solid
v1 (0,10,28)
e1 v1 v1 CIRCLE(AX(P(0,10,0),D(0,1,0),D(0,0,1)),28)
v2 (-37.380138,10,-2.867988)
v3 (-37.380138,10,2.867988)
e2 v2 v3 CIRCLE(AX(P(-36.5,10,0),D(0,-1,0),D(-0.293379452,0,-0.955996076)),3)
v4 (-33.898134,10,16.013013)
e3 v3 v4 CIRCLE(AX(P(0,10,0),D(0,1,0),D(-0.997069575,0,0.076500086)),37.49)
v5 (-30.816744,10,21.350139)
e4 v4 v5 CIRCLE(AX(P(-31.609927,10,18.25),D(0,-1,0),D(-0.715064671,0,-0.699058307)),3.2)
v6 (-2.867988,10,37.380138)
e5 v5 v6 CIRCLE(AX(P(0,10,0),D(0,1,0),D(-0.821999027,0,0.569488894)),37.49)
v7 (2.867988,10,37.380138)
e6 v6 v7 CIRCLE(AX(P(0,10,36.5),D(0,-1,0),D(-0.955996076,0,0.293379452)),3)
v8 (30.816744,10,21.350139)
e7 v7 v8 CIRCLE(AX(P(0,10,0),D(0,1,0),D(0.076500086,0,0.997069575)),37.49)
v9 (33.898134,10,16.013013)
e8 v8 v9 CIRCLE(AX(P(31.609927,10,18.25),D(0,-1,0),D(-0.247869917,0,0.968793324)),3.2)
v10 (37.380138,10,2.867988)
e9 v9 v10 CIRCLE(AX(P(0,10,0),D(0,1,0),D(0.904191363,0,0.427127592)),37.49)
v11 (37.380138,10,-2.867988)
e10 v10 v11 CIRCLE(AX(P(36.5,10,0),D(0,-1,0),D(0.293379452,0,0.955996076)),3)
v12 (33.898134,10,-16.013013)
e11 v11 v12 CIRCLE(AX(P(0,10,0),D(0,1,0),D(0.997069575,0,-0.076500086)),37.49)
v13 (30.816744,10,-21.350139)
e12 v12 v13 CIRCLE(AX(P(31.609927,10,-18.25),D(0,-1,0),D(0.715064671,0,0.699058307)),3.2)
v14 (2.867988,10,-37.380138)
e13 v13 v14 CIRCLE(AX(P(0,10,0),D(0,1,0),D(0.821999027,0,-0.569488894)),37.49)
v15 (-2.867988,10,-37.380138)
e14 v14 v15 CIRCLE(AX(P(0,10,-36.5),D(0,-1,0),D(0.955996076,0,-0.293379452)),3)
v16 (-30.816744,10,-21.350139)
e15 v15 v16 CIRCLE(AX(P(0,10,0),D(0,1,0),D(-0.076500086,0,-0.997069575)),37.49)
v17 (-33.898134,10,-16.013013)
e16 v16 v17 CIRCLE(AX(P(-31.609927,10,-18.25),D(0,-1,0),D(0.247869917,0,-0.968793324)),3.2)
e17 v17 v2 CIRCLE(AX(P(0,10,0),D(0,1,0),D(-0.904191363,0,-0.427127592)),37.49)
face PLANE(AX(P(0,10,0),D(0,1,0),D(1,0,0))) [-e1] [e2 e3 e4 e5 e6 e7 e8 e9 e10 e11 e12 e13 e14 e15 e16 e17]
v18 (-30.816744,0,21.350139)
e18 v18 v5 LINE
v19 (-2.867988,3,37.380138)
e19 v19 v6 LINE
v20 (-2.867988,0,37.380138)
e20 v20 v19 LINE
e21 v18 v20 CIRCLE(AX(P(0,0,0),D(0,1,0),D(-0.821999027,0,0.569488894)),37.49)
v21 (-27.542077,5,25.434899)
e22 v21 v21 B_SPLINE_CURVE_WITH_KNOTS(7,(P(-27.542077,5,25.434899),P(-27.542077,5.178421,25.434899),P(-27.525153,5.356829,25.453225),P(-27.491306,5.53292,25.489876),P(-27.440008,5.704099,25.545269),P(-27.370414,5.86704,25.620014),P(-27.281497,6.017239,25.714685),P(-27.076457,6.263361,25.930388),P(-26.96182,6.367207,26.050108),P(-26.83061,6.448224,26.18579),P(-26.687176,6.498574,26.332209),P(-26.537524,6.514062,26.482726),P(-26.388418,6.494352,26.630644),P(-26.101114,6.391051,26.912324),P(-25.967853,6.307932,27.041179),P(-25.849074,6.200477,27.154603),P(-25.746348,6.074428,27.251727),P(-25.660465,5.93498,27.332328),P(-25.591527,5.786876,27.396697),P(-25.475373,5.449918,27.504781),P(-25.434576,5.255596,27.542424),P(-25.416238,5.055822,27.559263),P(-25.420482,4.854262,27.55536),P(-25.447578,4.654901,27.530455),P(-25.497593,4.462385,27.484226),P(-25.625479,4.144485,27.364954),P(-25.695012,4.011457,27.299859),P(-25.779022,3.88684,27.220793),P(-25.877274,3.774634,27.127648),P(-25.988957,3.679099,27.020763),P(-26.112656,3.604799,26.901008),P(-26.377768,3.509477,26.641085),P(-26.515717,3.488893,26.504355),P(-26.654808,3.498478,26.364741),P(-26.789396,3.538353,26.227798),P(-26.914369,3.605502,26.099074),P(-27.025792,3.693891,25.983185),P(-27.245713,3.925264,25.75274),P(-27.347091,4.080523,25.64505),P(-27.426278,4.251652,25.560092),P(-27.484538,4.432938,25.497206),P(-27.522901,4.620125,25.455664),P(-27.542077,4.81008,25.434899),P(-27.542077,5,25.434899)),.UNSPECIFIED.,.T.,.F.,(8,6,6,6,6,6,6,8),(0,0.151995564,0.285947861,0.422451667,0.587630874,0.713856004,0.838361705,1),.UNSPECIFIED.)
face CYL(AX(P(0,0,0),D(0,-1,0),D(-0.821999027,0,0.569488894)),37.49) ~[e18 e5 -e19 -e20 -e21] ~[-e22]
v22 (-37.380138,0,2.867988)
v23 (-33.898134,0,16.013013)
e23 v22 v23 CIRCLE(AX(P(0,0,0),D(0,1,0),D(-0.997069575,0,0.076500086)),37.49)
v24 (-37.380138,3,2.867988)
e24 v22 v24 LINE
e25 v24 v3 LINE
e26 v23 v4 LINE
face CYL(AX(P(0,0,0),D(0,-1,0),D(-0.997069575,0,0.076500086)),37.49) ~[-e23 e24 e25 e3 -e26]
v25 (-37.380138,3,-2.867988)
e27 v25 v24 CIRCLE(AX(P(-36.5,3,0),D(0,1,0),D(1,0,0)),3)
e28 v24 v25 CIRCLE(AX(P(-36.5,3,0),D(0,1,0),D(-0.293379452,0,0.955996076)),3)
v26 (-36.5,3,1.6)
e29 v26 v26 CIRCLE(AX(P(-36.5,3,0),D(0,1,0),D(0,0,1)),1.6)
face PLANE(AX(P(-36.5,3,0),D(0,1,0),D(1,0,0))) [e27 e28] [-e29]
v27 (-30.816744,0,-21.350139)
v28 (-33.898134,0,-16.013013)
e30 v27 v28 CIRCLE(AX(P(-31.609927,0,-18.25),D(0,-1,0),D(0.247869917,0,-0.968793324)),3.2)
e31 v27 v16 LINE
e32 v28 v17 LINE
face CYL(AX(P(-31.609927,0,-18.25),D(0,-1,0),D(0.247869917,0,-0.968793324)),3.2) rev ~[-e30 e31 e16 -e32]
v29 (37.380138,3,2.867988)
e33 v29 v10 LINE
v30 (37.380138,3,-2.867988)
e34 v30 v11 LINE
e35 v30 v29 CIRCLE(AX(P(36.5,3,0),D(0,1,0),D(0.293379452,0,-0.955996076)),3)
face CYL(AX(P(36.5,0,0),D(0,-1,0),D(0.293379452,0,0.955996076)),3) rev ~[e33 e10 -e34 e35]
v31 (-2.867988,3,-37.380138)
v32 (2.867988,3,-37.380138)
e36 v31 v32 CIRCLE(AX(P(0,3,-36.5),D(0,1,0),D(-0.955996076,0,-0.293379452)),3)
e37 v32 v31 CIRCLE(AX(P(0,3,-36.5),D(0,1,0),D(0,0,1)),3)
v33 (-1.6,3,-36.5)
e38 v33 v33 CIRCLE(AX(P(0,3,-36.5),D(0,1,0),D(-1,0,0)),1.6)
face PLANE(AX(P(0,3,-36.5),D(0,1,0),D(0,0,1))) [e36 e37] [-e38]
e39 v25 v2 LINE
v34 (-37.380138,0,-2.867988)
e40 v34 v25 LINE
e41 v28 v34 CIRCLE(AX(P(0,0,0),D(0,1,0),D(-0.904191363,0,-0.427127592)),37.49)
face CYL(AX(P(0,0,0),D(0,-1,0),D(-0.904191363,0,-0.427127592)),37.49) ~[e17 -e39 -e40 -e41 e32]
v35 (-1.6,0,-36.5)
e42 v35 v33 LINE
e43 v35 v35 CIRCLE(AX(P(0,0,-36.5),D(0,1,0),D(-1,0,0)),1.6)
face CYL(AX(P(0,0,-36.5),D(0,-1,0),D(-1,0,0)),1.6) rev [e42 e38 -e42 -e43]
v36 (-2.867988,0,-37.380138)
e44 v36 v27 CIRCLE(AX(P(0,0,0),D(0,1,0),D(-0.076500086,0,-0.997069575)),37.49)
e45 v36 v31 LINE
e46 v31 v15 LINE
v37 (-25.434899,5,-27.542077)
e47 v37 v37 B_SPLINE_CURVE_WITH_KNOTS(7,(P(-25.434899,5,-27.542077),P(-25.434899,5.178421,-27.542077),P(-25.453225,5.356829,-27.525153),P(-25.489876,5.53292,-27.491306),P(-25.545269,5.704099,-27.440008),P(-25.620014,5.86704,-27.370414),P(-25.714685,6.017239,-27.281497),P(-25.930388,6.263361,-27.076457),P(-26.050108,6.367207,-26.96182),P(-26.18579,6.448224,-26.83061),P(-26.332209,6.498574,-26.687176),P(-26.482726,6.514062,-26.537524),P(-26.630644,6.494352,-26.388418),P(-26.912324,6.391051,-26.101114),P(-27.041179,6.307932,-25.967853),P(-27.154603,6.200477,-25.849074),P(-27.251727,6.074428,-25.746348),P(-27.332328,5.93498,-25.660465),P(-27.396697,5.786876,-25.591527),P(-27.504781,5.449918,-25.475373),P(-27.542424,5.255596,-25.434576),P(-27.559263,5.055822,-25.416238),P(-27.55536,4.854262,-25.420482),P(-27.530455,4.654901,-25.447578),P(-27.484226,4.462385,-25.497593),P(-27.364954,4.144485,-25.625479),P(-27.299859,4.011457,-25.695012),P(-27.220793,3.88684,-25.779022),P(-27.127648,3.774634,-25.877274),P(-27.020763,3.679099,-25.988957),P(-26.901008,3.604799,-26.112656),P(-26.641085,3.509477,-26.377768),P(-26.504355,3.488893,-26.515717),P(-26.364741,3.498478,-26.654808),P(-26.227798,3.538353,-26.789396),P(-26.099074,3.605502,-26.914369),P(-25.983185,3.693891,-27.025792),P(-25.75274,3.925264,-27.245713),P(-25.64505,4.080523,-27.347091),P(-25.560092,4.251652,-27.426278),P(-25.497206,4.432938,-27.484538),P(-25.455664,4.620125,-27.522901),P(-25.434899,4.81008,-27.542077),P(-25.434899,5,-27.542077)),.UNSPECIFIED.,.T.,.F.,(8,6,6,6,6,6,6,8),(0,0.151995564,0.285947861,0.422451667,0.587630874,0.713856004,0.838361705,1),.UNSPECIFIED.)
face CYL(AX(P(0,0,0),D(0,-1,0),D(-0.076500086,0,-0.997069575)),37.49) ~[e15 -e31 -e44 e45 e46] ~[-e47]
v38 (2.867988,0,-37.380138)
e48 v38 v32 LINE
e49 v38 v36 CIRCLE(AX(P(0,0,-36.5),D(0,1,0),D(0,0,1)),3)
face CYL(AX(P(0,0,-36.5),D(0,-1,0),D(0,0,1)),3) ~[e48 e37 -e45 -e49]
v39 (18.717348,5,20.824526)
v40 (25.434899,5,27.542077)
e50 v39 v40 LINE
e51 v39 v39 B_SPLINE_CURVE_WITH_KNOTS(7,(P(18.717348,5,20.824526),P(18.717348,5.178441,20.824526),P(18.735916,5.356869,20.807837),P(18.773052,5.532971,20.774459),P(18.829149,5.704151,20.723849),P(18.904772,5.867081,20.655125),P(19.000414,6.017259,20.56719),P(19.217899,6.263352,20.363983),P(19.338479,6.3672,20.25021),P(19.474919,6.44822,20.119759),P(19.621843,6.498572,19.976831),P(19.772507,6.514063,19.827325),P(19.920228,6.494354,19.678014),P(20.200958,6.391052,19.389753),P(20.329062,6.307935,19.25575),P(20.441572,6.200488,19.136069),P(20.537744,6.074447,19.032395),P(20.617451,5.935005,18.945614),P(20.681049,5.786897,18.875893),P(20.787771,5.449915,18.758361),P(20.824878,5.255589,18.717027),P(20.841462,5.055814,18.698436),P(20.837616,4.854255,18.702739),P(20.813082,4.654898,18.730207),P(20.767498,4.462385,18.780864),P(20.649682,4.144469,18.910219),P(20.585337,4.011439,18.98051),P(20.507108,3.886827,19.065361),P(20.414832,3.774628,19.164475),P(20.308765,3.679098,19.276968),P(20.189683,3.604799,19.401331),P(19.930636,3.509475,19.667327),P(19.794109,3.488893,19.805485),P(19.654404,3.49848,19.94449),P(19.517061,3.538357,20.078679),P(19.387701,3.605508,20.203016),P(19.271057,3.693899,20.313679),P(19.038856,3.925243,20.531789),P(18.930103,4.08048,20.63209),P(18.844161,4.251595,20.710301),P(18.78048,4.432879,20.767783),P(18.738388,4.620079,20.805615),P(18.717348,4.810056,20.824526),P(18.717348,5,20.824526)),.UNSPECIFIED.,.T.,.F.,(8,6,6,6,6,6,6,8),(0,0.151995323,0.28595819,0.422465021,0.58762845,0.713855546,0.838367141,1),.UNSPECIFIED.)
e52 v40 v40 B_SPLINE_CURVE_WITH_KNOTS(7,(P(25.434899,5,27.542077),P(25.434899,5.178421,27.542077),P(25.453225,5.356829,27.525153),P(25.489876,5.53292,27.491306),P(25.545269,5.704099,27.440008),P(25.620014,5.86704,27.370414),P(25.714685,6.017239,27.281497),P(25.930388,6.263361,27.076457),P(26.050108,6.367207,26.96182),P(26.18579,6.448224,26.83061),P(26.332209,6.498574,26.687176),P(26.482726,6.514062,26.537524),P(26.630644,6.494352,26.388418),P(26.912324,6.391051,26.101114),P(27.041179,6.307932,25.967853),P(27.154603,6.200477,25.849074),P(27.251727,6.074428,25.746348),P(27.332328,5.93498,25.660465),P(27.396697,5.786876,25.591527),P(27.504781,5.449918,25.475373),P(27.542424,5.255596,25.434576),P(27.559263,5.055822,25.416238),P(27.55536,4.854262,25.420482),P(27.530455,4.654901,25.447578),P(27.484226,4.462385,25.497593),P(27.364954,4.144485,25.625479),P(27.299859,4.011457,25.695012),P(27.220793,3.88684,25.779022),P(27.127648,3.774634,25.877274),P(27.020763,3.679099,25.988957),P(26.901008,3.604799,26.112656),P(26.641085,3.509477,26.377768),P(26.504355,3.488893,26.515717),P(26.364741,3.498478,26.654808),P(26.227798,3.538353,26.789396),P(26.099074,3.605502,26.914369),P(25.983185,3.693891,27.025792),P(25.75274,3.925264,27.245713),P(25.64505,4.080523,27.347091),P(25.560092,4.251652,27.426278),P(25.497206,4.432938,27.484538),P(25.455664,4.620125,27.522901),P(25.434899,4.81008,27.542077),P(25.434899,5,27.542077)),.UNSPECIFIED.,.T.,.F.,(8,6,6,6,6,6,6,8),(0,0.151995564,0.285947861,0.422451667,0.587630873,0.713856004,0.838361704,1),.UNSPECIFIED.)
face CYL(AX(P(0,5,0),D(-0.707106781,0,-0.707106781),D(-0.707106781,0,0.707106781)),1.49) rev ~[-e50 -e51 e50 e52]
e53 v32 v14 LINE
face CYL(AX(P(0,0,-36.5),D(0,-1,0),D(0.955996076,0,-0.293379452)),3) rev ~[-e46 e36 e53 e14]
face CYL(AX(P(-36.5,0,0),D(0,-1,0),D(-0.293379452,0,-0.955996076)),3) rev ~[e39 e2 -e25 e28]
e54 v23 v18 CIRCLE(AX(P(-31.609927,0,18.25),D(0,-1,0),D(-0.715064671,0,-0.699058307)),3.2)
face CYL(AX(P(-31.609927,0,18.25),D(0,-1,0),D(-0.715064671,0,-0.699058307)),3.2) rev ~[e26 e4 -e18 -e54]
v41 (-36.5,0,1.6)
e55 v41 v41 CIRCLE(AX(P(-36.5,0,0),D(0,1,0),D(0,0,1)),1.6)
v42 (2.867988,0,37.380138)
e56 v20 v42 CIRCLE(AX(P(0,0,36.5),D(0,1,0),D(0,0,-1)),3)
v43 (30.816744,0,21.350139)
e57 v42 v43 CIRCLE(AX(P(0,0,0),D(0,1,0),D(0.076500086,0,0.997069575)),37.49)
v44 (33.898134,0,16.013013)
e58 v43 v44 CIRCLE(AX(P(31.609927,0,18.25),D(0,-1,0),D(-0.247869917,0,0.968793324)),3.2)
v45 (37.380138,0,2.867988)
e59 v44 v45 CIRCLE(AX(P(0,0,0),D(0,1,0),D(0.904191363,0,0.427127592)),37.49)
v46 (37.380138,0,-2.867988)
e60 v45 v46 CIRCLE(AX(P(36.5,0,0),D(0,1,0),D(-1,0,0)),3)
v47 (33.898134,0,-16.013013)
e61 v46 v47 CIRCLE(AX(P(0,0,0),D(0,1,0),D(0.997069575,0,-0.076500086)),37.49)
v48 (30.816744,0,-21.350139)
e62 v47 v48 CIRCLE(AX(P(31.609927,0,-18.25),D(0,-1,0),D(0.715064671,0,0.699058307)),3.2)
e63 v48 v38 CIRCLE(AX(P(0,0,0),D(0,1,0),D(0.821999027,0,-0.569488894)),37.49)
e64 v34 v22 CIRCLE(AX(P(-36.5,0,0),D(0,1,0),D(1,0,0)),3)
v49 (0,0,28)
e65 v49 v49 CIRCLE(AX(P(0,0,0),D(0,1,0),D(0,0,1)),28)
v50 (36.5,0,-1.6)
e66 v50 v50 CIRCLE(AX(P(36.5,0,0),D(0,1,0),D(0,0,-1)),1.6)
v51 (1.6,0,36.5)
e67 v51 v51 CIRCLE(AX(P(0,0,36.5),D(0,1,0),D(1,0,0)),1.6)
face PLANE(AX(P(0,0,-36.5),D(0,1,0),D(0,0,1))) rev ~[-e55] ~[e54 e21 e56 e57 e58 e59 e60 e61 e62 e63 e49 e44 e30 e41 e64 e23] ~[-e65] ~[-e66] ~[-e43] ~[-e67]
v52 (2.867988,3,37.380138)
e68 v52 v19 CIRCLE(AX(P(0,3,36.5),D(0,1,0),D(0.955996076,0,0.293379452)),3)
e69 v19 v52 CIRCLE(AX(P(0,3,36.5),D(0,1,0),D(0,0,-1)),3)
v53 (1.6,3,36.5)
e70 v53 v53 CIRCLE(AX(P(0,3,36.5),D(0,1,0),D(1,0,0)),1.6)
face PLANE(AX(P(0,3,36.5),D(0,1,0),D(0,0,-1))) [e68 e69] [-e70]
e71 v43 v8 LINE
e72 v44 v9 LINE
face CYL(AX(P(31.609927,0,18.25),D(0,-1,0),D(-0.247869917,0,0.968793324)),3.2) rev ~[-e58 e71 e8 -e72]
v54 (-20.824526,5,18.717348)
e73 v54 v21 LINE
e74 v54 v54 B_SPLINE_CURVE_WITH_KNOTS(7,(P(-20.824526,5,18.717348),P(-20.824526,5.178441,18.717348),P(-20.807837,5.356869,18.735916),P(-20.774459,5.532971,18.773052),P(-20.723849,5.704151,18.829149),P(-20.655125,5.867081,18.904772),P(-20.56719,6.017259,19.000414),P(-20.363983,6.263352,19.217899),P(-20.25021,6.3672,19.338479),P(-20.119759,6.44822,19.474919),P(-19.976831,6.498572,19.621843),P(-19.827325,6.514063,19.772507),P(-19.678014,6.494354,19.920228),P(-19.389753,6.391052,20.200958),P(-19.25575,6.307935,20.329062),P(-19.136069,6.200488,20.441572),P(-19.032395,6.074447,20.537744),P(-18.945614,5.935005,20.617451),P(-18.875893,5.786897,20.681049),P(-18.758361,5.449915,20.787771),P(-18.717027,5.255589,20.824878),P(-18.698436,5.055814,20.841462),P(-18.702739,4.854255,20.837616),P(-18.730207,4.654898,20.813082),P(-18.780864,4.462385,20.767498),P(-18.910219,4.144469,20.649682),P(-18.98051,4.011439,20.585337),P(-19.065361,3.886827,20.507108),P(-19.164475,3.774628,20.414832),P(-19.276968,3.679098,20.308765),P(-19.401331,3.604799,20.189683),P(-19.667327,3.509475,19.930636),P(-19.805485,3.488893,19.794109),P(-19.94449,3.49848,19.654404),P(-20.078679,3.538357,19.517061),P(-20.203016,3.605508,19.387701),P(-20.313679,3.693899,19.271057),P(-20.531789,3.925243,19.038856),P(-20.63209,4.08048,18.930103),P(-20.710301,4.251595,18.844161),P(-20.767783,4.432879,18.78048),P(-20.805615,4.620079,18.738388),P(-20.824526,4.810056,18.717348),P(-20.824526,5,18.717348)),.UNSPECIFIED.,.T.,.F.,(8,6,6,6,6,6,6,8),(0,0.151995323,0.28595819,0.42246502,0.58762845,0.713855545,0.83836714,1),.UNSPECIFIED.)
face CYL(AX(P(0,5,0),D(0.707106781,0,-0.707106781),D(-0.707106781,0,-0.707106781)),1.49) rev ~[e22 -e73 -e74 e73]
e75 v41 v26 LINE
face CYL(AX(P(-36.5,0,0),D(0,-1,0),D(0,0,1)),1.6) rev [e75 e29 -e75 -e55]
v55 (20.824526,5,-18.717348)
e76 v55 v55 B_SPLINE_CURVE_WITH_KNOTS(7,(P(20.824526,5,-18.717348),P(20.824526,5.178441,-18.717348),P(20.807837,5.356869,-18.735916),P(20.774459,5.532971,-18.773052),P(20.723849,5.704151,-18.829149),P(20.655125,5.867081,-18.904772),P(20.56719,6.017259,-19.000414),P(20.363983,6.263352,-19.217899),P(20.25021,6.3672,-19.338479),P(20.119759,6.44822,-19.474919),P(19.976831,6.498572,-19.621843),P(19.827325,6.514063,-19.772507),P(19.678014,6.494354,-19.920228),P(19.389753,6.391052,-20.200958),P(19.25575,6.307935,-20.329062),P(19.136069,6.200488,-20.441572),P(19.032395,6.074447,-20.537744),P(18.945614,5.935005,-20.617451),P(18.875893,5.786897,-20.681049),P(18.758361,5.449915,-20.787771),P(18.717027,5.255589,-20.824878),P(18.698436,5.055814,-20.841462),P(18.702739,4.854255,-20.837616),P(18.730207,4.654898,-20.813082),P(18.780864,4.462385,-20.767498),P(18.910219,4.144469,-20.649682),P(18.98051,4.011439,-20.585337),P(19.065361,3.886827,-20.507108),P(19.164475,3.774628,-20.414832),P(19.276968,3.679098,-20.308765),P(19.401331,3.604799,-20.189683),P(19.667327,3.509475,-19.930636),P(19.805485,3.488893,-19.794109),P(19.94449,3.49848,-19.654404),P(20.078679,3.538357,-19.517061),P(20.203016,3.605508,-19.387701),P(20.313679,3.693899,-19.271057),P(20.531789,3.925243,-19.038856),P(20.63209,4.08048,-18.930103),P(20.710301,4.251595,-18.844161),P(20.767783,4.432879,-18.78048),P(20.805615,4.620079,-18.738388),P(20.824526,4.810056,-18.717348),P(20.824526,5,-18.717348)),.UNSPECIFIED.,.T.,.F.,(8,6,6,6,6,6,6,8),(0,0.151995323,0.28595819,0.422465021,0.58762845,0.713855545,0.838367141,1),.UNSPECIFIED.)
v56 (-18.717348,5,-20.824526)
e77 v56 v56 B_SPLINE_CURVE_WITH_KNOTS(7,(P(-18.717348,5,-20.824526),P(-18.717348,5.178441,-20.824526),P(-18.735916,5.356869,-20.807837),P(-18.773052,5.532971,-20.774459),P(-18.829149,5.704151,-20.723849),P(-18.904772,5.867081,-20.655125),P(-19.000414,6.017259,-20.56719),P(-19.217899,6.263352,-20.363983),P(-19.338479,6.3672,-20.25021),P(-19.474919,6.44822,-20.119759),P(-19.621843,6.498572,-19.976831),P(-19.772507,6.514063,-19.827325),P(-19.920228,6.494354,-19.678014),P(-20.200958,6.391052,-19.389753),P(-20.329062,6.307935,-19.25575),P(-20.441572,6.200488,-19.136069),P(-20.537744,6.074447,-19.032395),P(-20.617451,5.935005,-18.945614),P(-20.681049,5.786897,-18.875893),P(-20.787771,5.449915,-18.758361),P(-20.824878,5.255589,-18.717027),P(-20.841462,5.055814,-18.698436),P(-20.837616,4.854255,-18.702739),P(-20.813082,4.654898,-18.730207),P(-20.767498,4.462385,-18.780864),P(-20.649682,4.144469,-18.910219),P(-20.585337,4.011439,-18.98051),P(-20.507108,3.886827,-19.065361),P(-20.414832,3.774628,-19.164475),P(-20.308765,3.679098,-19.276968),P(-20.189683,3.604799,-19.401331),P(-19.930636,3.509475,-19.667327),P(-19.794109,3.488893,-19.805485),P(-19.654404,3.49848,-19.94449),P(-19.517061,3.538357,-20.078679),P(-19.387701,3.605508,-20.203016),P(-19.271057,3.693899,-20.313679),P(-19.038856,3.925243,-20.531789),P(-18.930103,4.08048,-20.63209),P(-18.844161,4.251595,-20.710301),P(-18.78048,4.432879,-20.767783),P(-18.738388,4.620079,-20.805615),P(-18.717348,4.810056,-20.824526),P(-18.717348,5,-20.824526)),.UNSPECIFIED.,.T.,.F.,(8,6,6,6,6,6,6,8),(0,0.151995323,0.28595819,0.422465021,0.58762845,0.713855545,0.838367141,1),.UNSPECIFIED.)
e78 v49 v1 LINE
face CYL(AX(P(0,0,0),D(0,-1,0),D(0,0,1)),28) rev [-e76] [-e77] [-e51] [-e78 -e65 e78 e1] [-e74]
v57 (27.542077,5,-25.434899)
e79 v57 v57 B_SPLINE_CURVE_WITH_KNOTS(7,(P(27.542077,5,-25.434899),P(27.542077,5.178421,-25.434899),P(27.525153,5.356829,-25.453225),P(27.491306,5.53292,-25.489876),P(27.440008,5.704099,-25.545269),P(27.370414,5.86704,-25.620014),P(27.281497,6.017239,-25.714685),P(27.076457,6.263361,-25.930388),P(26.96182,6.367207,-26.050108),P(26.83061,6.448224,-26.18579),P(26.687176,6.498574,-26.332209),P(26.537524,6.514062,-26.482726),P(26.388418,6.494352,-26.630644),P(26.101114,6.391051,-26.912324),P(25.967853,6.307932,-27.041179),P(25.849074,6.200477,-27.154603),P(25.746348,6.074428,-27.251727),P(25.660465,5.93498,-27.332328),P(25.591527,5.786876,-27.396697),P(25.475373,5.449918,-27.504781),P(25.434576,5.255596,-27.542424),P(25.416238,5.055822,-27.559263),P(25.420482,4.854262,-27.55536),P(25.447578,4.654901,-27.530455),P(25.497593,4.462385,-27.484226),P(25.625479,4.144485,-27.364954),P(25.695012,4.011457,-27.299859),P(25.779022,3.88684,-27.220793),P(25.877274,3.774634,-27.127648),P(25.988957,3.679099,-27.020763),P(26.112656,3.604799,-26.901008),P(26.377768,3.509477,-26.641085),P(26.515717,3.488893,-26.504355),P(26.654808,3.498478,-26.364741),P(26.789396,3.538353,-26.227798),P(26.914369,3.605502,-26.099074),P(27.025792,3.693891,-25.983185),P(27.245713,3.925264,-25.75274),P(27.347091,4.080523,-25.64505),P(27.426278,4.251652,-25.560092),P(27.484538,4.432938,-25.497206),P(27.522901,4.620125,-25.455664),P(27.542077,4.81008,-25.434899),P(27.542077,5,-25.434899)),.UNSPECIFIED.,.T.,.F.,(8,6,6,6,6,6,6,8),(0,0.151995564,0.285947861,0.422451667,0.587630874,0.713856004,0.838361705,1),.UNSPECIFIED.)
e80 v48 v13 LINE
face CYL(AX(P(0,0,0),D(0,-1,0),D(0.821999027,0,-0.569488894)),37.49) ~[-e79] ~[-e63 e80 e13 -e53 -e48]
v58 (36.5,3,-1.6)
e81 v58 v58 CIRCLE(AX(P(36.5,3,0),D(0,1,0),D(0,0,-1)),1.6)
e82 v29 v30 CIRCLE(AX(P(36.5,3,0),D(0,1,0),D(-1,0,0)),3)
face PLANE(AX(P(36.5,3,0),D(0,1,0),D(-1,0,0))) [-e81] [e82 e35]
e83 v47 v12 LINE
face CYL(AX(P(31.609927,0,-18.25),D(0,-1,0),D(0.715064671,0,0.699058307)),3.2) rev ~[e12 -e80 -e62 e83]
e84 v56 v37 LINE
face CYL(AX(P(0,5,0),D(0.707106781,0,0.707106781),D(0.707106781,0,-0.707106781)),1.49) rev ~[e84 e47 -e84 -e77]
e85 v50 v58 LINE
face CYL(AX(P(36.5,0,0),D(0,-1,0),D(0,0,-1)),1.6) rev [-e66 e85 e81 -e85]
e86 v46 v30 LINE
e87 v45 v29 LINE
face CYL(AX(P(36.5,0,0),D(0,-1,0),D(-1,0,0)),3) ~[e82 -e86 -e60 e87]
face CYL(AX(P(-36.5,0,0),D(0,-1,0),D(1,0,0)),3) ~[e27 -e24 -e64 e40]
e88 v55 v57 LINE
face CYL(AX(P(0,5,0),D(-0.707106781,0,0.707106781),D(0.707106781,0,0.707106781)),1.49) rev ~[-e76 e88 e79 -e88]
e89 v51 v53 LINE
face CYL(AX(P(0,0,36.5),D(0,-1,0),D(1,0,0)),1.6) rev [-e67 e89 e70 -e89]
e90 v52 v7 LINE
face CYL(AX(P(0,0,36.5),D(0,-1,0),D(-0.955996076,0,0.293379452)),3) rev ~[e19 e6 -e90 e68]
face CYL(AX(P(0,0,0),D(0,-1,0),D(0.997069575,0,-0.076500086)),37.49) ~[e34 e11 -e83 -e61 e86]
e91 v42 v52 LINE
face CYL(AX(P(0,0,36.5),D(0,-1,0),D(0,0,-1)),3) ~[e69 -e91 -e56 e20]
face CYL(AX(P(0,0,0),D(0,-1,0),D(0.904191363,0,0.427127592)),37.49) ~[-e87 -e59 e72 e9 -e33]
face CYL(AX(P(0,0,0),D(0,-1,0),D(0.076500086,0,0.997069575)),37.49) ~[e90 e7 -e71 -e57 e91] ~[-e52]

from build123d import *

# Parameters (mm, degrees)
IZIM2_R                     = 28
Y_KSEKLIK_EKSTR_ZYON5_DEPTH = 10
IZIM3_R                     = 1.49
KES_EKSTR_ZYON1_DEPTH       = 54.801017528
DAIRESEL_KAPLAMA1_COUNT     = 4
IZIM4_R                     = 3
IZIM4_R_2                   = 1.6
Y_KSEKLIK_EKSTR_ZYON6_DEPTH = 3
DAIRESEL_KAPLAMA2_COUNT     = 4


with BuildPart() as part:
    # Çizim2 → Yükseklik-Ekstrüzyon5 (new body)
    with BuildSketch(Plane(origin=(0, 0, 0), x_dir=(1, 0, 0), z_dir=(0, 1, 0))):
        with BuildLine():
            ThreePointArc((-37.380138356, -2.867988228), (-36.240115286, -9.599694998), (-33.898134186, -16.013013418))
            ThreePointArc((-33.898134186, -16.013013418), (-28.838645946, -16.65), (-30.816743504, -21.350138636))
            ThreePointArc((-30.816743504, -21.350138636), (-18.652225356, -32.52067941), (-2.867988228, -37.380138356))
            ThreePointArc((-2.867988228, -37.380138356), (0, -33.5), (2.867988228, -37.380138356))
            ThreePointArc((2.867988228, -37.380138356), (18.652225356, -32.52067941), (30.816743504, -21.350138636))
            ThreePointArc((30.816743504, -21.350138636), (28.838645946, -16.65), (33.898134186, -16.013013418))
            ThreePointArc((33.898134186, -16.013013418), (36.240115286, -9.599694998), (37.380138356, -2.867988228))
            ThreePointArc((37.380138356, -2.867988228), (33.5, 0), (37.380138356, 2.867988228))
            ThreePointArc((37.380138356, 2.867988228), (36.240115286, 9.599694998), (33.898134186, 16.013013418))
            ThreePointArc((33.898134186, 16.013013418), (28.838645946, 16.65), (30.816743504, 21.350138636))
            ThreePointArc((30.816743504, 21.350138636), (18.652225356, 32.52067941), (2.867988228, 37.380138356))
            ThreePointArc((2.867988228, 37.380138356), (0, 33.5), (-2.867988228, 37.380138356))
            ThreePointArc((-2.867988228, 37.380138356), (-18.652225356, 32.52067941), (-30.816743504, 21.350138636))
            ThreePointArc((-30.816743504, 21.350138636), (-28.838645946, 16.65), (-33.898134186, 16.013013418))
            ThreePointArc((-33.898134186, 16.013013418), (-36.240115286, 9.599694998), (-37.380138356, 2.867988228))
            ThreePointArc((-37.380138356, 2.867988228), (-33.5, 0), (-37.380138356, -2.867988228))
        make_face()
        Circle(IZIM2_R, mode=Mode.SUBTRACT)
    extrude(amount=Y_KSEKLIK_EKSTR_ZYON5_DEPTH)

    # Çizim3 → Kes-Ekstrüzyon1 (cut, through all)
    with BuildSketch(Plane(origin=(0, 0, 0), x_dir=(0.7071067811865464, 0, 0.7071067811865488), z_dir=(-0.7071067811865488, 0, 0.7071067811865464))):
        with Locations((0, 5)):
            Circle(IZIM3_R)
    kes_ekstr_zyon1 = extrude(amount=-KES_EKSTR_ZYON1_DEPTH, mode=Mode.SUBTRACT)

    # Dairesel Kaplama1: Kes-Ekstrüzyon1 ×4 about axis
    dairesel_kaplama1_axis = Axis((0, 31.917325532, 0), (0, -1, 0))
    for i in range(1, DAIRESEL_KAPLAMA1_COUNT):
        add(kes_ekstr_zyon1.rotate(dairesel_kaplama1_axis, i * 360 / DAIRESEL_KAPLAMA1_COUNT), mode=Mode.SUBTRACT)

    # Çizim4 → Yükseklik-Ekstrüzyon6 (add)
    with BuildSketch(Plane(origin=(0, 0, 0), x_dir=(1, 0, 0), z_dir=(0, 1, 0))):
        with Locations((-36.5, 0)):
            Circle(IZIM4_R)
        with Locations((-36.5, 0)):
            Circle(IZIM4_R_2, mode=Mode.SUBTRACT)
    y_kseklik_ekstr_zyon6 = extrude(amount=Y_KSEKLIK_EKSTR_ZYON6_DEPTH)

    # Dairesel Kaplama2: Yükseklik-Ekstrüzyon6 ×4 about axis
    dairesel_kaplama2_axis = Axis((0, 31.917325532, 0), (0, -1, 0))
    for i in range(1, DAIRESEL_KAPLAMA2_COUNT):
        add(y_kseklik_ekstr_zyon6.rotate(dairesel_kaplama2_axis, i * 360 / DAIRESEL_KAPLAMA2_COUNT))


solid = part.part
